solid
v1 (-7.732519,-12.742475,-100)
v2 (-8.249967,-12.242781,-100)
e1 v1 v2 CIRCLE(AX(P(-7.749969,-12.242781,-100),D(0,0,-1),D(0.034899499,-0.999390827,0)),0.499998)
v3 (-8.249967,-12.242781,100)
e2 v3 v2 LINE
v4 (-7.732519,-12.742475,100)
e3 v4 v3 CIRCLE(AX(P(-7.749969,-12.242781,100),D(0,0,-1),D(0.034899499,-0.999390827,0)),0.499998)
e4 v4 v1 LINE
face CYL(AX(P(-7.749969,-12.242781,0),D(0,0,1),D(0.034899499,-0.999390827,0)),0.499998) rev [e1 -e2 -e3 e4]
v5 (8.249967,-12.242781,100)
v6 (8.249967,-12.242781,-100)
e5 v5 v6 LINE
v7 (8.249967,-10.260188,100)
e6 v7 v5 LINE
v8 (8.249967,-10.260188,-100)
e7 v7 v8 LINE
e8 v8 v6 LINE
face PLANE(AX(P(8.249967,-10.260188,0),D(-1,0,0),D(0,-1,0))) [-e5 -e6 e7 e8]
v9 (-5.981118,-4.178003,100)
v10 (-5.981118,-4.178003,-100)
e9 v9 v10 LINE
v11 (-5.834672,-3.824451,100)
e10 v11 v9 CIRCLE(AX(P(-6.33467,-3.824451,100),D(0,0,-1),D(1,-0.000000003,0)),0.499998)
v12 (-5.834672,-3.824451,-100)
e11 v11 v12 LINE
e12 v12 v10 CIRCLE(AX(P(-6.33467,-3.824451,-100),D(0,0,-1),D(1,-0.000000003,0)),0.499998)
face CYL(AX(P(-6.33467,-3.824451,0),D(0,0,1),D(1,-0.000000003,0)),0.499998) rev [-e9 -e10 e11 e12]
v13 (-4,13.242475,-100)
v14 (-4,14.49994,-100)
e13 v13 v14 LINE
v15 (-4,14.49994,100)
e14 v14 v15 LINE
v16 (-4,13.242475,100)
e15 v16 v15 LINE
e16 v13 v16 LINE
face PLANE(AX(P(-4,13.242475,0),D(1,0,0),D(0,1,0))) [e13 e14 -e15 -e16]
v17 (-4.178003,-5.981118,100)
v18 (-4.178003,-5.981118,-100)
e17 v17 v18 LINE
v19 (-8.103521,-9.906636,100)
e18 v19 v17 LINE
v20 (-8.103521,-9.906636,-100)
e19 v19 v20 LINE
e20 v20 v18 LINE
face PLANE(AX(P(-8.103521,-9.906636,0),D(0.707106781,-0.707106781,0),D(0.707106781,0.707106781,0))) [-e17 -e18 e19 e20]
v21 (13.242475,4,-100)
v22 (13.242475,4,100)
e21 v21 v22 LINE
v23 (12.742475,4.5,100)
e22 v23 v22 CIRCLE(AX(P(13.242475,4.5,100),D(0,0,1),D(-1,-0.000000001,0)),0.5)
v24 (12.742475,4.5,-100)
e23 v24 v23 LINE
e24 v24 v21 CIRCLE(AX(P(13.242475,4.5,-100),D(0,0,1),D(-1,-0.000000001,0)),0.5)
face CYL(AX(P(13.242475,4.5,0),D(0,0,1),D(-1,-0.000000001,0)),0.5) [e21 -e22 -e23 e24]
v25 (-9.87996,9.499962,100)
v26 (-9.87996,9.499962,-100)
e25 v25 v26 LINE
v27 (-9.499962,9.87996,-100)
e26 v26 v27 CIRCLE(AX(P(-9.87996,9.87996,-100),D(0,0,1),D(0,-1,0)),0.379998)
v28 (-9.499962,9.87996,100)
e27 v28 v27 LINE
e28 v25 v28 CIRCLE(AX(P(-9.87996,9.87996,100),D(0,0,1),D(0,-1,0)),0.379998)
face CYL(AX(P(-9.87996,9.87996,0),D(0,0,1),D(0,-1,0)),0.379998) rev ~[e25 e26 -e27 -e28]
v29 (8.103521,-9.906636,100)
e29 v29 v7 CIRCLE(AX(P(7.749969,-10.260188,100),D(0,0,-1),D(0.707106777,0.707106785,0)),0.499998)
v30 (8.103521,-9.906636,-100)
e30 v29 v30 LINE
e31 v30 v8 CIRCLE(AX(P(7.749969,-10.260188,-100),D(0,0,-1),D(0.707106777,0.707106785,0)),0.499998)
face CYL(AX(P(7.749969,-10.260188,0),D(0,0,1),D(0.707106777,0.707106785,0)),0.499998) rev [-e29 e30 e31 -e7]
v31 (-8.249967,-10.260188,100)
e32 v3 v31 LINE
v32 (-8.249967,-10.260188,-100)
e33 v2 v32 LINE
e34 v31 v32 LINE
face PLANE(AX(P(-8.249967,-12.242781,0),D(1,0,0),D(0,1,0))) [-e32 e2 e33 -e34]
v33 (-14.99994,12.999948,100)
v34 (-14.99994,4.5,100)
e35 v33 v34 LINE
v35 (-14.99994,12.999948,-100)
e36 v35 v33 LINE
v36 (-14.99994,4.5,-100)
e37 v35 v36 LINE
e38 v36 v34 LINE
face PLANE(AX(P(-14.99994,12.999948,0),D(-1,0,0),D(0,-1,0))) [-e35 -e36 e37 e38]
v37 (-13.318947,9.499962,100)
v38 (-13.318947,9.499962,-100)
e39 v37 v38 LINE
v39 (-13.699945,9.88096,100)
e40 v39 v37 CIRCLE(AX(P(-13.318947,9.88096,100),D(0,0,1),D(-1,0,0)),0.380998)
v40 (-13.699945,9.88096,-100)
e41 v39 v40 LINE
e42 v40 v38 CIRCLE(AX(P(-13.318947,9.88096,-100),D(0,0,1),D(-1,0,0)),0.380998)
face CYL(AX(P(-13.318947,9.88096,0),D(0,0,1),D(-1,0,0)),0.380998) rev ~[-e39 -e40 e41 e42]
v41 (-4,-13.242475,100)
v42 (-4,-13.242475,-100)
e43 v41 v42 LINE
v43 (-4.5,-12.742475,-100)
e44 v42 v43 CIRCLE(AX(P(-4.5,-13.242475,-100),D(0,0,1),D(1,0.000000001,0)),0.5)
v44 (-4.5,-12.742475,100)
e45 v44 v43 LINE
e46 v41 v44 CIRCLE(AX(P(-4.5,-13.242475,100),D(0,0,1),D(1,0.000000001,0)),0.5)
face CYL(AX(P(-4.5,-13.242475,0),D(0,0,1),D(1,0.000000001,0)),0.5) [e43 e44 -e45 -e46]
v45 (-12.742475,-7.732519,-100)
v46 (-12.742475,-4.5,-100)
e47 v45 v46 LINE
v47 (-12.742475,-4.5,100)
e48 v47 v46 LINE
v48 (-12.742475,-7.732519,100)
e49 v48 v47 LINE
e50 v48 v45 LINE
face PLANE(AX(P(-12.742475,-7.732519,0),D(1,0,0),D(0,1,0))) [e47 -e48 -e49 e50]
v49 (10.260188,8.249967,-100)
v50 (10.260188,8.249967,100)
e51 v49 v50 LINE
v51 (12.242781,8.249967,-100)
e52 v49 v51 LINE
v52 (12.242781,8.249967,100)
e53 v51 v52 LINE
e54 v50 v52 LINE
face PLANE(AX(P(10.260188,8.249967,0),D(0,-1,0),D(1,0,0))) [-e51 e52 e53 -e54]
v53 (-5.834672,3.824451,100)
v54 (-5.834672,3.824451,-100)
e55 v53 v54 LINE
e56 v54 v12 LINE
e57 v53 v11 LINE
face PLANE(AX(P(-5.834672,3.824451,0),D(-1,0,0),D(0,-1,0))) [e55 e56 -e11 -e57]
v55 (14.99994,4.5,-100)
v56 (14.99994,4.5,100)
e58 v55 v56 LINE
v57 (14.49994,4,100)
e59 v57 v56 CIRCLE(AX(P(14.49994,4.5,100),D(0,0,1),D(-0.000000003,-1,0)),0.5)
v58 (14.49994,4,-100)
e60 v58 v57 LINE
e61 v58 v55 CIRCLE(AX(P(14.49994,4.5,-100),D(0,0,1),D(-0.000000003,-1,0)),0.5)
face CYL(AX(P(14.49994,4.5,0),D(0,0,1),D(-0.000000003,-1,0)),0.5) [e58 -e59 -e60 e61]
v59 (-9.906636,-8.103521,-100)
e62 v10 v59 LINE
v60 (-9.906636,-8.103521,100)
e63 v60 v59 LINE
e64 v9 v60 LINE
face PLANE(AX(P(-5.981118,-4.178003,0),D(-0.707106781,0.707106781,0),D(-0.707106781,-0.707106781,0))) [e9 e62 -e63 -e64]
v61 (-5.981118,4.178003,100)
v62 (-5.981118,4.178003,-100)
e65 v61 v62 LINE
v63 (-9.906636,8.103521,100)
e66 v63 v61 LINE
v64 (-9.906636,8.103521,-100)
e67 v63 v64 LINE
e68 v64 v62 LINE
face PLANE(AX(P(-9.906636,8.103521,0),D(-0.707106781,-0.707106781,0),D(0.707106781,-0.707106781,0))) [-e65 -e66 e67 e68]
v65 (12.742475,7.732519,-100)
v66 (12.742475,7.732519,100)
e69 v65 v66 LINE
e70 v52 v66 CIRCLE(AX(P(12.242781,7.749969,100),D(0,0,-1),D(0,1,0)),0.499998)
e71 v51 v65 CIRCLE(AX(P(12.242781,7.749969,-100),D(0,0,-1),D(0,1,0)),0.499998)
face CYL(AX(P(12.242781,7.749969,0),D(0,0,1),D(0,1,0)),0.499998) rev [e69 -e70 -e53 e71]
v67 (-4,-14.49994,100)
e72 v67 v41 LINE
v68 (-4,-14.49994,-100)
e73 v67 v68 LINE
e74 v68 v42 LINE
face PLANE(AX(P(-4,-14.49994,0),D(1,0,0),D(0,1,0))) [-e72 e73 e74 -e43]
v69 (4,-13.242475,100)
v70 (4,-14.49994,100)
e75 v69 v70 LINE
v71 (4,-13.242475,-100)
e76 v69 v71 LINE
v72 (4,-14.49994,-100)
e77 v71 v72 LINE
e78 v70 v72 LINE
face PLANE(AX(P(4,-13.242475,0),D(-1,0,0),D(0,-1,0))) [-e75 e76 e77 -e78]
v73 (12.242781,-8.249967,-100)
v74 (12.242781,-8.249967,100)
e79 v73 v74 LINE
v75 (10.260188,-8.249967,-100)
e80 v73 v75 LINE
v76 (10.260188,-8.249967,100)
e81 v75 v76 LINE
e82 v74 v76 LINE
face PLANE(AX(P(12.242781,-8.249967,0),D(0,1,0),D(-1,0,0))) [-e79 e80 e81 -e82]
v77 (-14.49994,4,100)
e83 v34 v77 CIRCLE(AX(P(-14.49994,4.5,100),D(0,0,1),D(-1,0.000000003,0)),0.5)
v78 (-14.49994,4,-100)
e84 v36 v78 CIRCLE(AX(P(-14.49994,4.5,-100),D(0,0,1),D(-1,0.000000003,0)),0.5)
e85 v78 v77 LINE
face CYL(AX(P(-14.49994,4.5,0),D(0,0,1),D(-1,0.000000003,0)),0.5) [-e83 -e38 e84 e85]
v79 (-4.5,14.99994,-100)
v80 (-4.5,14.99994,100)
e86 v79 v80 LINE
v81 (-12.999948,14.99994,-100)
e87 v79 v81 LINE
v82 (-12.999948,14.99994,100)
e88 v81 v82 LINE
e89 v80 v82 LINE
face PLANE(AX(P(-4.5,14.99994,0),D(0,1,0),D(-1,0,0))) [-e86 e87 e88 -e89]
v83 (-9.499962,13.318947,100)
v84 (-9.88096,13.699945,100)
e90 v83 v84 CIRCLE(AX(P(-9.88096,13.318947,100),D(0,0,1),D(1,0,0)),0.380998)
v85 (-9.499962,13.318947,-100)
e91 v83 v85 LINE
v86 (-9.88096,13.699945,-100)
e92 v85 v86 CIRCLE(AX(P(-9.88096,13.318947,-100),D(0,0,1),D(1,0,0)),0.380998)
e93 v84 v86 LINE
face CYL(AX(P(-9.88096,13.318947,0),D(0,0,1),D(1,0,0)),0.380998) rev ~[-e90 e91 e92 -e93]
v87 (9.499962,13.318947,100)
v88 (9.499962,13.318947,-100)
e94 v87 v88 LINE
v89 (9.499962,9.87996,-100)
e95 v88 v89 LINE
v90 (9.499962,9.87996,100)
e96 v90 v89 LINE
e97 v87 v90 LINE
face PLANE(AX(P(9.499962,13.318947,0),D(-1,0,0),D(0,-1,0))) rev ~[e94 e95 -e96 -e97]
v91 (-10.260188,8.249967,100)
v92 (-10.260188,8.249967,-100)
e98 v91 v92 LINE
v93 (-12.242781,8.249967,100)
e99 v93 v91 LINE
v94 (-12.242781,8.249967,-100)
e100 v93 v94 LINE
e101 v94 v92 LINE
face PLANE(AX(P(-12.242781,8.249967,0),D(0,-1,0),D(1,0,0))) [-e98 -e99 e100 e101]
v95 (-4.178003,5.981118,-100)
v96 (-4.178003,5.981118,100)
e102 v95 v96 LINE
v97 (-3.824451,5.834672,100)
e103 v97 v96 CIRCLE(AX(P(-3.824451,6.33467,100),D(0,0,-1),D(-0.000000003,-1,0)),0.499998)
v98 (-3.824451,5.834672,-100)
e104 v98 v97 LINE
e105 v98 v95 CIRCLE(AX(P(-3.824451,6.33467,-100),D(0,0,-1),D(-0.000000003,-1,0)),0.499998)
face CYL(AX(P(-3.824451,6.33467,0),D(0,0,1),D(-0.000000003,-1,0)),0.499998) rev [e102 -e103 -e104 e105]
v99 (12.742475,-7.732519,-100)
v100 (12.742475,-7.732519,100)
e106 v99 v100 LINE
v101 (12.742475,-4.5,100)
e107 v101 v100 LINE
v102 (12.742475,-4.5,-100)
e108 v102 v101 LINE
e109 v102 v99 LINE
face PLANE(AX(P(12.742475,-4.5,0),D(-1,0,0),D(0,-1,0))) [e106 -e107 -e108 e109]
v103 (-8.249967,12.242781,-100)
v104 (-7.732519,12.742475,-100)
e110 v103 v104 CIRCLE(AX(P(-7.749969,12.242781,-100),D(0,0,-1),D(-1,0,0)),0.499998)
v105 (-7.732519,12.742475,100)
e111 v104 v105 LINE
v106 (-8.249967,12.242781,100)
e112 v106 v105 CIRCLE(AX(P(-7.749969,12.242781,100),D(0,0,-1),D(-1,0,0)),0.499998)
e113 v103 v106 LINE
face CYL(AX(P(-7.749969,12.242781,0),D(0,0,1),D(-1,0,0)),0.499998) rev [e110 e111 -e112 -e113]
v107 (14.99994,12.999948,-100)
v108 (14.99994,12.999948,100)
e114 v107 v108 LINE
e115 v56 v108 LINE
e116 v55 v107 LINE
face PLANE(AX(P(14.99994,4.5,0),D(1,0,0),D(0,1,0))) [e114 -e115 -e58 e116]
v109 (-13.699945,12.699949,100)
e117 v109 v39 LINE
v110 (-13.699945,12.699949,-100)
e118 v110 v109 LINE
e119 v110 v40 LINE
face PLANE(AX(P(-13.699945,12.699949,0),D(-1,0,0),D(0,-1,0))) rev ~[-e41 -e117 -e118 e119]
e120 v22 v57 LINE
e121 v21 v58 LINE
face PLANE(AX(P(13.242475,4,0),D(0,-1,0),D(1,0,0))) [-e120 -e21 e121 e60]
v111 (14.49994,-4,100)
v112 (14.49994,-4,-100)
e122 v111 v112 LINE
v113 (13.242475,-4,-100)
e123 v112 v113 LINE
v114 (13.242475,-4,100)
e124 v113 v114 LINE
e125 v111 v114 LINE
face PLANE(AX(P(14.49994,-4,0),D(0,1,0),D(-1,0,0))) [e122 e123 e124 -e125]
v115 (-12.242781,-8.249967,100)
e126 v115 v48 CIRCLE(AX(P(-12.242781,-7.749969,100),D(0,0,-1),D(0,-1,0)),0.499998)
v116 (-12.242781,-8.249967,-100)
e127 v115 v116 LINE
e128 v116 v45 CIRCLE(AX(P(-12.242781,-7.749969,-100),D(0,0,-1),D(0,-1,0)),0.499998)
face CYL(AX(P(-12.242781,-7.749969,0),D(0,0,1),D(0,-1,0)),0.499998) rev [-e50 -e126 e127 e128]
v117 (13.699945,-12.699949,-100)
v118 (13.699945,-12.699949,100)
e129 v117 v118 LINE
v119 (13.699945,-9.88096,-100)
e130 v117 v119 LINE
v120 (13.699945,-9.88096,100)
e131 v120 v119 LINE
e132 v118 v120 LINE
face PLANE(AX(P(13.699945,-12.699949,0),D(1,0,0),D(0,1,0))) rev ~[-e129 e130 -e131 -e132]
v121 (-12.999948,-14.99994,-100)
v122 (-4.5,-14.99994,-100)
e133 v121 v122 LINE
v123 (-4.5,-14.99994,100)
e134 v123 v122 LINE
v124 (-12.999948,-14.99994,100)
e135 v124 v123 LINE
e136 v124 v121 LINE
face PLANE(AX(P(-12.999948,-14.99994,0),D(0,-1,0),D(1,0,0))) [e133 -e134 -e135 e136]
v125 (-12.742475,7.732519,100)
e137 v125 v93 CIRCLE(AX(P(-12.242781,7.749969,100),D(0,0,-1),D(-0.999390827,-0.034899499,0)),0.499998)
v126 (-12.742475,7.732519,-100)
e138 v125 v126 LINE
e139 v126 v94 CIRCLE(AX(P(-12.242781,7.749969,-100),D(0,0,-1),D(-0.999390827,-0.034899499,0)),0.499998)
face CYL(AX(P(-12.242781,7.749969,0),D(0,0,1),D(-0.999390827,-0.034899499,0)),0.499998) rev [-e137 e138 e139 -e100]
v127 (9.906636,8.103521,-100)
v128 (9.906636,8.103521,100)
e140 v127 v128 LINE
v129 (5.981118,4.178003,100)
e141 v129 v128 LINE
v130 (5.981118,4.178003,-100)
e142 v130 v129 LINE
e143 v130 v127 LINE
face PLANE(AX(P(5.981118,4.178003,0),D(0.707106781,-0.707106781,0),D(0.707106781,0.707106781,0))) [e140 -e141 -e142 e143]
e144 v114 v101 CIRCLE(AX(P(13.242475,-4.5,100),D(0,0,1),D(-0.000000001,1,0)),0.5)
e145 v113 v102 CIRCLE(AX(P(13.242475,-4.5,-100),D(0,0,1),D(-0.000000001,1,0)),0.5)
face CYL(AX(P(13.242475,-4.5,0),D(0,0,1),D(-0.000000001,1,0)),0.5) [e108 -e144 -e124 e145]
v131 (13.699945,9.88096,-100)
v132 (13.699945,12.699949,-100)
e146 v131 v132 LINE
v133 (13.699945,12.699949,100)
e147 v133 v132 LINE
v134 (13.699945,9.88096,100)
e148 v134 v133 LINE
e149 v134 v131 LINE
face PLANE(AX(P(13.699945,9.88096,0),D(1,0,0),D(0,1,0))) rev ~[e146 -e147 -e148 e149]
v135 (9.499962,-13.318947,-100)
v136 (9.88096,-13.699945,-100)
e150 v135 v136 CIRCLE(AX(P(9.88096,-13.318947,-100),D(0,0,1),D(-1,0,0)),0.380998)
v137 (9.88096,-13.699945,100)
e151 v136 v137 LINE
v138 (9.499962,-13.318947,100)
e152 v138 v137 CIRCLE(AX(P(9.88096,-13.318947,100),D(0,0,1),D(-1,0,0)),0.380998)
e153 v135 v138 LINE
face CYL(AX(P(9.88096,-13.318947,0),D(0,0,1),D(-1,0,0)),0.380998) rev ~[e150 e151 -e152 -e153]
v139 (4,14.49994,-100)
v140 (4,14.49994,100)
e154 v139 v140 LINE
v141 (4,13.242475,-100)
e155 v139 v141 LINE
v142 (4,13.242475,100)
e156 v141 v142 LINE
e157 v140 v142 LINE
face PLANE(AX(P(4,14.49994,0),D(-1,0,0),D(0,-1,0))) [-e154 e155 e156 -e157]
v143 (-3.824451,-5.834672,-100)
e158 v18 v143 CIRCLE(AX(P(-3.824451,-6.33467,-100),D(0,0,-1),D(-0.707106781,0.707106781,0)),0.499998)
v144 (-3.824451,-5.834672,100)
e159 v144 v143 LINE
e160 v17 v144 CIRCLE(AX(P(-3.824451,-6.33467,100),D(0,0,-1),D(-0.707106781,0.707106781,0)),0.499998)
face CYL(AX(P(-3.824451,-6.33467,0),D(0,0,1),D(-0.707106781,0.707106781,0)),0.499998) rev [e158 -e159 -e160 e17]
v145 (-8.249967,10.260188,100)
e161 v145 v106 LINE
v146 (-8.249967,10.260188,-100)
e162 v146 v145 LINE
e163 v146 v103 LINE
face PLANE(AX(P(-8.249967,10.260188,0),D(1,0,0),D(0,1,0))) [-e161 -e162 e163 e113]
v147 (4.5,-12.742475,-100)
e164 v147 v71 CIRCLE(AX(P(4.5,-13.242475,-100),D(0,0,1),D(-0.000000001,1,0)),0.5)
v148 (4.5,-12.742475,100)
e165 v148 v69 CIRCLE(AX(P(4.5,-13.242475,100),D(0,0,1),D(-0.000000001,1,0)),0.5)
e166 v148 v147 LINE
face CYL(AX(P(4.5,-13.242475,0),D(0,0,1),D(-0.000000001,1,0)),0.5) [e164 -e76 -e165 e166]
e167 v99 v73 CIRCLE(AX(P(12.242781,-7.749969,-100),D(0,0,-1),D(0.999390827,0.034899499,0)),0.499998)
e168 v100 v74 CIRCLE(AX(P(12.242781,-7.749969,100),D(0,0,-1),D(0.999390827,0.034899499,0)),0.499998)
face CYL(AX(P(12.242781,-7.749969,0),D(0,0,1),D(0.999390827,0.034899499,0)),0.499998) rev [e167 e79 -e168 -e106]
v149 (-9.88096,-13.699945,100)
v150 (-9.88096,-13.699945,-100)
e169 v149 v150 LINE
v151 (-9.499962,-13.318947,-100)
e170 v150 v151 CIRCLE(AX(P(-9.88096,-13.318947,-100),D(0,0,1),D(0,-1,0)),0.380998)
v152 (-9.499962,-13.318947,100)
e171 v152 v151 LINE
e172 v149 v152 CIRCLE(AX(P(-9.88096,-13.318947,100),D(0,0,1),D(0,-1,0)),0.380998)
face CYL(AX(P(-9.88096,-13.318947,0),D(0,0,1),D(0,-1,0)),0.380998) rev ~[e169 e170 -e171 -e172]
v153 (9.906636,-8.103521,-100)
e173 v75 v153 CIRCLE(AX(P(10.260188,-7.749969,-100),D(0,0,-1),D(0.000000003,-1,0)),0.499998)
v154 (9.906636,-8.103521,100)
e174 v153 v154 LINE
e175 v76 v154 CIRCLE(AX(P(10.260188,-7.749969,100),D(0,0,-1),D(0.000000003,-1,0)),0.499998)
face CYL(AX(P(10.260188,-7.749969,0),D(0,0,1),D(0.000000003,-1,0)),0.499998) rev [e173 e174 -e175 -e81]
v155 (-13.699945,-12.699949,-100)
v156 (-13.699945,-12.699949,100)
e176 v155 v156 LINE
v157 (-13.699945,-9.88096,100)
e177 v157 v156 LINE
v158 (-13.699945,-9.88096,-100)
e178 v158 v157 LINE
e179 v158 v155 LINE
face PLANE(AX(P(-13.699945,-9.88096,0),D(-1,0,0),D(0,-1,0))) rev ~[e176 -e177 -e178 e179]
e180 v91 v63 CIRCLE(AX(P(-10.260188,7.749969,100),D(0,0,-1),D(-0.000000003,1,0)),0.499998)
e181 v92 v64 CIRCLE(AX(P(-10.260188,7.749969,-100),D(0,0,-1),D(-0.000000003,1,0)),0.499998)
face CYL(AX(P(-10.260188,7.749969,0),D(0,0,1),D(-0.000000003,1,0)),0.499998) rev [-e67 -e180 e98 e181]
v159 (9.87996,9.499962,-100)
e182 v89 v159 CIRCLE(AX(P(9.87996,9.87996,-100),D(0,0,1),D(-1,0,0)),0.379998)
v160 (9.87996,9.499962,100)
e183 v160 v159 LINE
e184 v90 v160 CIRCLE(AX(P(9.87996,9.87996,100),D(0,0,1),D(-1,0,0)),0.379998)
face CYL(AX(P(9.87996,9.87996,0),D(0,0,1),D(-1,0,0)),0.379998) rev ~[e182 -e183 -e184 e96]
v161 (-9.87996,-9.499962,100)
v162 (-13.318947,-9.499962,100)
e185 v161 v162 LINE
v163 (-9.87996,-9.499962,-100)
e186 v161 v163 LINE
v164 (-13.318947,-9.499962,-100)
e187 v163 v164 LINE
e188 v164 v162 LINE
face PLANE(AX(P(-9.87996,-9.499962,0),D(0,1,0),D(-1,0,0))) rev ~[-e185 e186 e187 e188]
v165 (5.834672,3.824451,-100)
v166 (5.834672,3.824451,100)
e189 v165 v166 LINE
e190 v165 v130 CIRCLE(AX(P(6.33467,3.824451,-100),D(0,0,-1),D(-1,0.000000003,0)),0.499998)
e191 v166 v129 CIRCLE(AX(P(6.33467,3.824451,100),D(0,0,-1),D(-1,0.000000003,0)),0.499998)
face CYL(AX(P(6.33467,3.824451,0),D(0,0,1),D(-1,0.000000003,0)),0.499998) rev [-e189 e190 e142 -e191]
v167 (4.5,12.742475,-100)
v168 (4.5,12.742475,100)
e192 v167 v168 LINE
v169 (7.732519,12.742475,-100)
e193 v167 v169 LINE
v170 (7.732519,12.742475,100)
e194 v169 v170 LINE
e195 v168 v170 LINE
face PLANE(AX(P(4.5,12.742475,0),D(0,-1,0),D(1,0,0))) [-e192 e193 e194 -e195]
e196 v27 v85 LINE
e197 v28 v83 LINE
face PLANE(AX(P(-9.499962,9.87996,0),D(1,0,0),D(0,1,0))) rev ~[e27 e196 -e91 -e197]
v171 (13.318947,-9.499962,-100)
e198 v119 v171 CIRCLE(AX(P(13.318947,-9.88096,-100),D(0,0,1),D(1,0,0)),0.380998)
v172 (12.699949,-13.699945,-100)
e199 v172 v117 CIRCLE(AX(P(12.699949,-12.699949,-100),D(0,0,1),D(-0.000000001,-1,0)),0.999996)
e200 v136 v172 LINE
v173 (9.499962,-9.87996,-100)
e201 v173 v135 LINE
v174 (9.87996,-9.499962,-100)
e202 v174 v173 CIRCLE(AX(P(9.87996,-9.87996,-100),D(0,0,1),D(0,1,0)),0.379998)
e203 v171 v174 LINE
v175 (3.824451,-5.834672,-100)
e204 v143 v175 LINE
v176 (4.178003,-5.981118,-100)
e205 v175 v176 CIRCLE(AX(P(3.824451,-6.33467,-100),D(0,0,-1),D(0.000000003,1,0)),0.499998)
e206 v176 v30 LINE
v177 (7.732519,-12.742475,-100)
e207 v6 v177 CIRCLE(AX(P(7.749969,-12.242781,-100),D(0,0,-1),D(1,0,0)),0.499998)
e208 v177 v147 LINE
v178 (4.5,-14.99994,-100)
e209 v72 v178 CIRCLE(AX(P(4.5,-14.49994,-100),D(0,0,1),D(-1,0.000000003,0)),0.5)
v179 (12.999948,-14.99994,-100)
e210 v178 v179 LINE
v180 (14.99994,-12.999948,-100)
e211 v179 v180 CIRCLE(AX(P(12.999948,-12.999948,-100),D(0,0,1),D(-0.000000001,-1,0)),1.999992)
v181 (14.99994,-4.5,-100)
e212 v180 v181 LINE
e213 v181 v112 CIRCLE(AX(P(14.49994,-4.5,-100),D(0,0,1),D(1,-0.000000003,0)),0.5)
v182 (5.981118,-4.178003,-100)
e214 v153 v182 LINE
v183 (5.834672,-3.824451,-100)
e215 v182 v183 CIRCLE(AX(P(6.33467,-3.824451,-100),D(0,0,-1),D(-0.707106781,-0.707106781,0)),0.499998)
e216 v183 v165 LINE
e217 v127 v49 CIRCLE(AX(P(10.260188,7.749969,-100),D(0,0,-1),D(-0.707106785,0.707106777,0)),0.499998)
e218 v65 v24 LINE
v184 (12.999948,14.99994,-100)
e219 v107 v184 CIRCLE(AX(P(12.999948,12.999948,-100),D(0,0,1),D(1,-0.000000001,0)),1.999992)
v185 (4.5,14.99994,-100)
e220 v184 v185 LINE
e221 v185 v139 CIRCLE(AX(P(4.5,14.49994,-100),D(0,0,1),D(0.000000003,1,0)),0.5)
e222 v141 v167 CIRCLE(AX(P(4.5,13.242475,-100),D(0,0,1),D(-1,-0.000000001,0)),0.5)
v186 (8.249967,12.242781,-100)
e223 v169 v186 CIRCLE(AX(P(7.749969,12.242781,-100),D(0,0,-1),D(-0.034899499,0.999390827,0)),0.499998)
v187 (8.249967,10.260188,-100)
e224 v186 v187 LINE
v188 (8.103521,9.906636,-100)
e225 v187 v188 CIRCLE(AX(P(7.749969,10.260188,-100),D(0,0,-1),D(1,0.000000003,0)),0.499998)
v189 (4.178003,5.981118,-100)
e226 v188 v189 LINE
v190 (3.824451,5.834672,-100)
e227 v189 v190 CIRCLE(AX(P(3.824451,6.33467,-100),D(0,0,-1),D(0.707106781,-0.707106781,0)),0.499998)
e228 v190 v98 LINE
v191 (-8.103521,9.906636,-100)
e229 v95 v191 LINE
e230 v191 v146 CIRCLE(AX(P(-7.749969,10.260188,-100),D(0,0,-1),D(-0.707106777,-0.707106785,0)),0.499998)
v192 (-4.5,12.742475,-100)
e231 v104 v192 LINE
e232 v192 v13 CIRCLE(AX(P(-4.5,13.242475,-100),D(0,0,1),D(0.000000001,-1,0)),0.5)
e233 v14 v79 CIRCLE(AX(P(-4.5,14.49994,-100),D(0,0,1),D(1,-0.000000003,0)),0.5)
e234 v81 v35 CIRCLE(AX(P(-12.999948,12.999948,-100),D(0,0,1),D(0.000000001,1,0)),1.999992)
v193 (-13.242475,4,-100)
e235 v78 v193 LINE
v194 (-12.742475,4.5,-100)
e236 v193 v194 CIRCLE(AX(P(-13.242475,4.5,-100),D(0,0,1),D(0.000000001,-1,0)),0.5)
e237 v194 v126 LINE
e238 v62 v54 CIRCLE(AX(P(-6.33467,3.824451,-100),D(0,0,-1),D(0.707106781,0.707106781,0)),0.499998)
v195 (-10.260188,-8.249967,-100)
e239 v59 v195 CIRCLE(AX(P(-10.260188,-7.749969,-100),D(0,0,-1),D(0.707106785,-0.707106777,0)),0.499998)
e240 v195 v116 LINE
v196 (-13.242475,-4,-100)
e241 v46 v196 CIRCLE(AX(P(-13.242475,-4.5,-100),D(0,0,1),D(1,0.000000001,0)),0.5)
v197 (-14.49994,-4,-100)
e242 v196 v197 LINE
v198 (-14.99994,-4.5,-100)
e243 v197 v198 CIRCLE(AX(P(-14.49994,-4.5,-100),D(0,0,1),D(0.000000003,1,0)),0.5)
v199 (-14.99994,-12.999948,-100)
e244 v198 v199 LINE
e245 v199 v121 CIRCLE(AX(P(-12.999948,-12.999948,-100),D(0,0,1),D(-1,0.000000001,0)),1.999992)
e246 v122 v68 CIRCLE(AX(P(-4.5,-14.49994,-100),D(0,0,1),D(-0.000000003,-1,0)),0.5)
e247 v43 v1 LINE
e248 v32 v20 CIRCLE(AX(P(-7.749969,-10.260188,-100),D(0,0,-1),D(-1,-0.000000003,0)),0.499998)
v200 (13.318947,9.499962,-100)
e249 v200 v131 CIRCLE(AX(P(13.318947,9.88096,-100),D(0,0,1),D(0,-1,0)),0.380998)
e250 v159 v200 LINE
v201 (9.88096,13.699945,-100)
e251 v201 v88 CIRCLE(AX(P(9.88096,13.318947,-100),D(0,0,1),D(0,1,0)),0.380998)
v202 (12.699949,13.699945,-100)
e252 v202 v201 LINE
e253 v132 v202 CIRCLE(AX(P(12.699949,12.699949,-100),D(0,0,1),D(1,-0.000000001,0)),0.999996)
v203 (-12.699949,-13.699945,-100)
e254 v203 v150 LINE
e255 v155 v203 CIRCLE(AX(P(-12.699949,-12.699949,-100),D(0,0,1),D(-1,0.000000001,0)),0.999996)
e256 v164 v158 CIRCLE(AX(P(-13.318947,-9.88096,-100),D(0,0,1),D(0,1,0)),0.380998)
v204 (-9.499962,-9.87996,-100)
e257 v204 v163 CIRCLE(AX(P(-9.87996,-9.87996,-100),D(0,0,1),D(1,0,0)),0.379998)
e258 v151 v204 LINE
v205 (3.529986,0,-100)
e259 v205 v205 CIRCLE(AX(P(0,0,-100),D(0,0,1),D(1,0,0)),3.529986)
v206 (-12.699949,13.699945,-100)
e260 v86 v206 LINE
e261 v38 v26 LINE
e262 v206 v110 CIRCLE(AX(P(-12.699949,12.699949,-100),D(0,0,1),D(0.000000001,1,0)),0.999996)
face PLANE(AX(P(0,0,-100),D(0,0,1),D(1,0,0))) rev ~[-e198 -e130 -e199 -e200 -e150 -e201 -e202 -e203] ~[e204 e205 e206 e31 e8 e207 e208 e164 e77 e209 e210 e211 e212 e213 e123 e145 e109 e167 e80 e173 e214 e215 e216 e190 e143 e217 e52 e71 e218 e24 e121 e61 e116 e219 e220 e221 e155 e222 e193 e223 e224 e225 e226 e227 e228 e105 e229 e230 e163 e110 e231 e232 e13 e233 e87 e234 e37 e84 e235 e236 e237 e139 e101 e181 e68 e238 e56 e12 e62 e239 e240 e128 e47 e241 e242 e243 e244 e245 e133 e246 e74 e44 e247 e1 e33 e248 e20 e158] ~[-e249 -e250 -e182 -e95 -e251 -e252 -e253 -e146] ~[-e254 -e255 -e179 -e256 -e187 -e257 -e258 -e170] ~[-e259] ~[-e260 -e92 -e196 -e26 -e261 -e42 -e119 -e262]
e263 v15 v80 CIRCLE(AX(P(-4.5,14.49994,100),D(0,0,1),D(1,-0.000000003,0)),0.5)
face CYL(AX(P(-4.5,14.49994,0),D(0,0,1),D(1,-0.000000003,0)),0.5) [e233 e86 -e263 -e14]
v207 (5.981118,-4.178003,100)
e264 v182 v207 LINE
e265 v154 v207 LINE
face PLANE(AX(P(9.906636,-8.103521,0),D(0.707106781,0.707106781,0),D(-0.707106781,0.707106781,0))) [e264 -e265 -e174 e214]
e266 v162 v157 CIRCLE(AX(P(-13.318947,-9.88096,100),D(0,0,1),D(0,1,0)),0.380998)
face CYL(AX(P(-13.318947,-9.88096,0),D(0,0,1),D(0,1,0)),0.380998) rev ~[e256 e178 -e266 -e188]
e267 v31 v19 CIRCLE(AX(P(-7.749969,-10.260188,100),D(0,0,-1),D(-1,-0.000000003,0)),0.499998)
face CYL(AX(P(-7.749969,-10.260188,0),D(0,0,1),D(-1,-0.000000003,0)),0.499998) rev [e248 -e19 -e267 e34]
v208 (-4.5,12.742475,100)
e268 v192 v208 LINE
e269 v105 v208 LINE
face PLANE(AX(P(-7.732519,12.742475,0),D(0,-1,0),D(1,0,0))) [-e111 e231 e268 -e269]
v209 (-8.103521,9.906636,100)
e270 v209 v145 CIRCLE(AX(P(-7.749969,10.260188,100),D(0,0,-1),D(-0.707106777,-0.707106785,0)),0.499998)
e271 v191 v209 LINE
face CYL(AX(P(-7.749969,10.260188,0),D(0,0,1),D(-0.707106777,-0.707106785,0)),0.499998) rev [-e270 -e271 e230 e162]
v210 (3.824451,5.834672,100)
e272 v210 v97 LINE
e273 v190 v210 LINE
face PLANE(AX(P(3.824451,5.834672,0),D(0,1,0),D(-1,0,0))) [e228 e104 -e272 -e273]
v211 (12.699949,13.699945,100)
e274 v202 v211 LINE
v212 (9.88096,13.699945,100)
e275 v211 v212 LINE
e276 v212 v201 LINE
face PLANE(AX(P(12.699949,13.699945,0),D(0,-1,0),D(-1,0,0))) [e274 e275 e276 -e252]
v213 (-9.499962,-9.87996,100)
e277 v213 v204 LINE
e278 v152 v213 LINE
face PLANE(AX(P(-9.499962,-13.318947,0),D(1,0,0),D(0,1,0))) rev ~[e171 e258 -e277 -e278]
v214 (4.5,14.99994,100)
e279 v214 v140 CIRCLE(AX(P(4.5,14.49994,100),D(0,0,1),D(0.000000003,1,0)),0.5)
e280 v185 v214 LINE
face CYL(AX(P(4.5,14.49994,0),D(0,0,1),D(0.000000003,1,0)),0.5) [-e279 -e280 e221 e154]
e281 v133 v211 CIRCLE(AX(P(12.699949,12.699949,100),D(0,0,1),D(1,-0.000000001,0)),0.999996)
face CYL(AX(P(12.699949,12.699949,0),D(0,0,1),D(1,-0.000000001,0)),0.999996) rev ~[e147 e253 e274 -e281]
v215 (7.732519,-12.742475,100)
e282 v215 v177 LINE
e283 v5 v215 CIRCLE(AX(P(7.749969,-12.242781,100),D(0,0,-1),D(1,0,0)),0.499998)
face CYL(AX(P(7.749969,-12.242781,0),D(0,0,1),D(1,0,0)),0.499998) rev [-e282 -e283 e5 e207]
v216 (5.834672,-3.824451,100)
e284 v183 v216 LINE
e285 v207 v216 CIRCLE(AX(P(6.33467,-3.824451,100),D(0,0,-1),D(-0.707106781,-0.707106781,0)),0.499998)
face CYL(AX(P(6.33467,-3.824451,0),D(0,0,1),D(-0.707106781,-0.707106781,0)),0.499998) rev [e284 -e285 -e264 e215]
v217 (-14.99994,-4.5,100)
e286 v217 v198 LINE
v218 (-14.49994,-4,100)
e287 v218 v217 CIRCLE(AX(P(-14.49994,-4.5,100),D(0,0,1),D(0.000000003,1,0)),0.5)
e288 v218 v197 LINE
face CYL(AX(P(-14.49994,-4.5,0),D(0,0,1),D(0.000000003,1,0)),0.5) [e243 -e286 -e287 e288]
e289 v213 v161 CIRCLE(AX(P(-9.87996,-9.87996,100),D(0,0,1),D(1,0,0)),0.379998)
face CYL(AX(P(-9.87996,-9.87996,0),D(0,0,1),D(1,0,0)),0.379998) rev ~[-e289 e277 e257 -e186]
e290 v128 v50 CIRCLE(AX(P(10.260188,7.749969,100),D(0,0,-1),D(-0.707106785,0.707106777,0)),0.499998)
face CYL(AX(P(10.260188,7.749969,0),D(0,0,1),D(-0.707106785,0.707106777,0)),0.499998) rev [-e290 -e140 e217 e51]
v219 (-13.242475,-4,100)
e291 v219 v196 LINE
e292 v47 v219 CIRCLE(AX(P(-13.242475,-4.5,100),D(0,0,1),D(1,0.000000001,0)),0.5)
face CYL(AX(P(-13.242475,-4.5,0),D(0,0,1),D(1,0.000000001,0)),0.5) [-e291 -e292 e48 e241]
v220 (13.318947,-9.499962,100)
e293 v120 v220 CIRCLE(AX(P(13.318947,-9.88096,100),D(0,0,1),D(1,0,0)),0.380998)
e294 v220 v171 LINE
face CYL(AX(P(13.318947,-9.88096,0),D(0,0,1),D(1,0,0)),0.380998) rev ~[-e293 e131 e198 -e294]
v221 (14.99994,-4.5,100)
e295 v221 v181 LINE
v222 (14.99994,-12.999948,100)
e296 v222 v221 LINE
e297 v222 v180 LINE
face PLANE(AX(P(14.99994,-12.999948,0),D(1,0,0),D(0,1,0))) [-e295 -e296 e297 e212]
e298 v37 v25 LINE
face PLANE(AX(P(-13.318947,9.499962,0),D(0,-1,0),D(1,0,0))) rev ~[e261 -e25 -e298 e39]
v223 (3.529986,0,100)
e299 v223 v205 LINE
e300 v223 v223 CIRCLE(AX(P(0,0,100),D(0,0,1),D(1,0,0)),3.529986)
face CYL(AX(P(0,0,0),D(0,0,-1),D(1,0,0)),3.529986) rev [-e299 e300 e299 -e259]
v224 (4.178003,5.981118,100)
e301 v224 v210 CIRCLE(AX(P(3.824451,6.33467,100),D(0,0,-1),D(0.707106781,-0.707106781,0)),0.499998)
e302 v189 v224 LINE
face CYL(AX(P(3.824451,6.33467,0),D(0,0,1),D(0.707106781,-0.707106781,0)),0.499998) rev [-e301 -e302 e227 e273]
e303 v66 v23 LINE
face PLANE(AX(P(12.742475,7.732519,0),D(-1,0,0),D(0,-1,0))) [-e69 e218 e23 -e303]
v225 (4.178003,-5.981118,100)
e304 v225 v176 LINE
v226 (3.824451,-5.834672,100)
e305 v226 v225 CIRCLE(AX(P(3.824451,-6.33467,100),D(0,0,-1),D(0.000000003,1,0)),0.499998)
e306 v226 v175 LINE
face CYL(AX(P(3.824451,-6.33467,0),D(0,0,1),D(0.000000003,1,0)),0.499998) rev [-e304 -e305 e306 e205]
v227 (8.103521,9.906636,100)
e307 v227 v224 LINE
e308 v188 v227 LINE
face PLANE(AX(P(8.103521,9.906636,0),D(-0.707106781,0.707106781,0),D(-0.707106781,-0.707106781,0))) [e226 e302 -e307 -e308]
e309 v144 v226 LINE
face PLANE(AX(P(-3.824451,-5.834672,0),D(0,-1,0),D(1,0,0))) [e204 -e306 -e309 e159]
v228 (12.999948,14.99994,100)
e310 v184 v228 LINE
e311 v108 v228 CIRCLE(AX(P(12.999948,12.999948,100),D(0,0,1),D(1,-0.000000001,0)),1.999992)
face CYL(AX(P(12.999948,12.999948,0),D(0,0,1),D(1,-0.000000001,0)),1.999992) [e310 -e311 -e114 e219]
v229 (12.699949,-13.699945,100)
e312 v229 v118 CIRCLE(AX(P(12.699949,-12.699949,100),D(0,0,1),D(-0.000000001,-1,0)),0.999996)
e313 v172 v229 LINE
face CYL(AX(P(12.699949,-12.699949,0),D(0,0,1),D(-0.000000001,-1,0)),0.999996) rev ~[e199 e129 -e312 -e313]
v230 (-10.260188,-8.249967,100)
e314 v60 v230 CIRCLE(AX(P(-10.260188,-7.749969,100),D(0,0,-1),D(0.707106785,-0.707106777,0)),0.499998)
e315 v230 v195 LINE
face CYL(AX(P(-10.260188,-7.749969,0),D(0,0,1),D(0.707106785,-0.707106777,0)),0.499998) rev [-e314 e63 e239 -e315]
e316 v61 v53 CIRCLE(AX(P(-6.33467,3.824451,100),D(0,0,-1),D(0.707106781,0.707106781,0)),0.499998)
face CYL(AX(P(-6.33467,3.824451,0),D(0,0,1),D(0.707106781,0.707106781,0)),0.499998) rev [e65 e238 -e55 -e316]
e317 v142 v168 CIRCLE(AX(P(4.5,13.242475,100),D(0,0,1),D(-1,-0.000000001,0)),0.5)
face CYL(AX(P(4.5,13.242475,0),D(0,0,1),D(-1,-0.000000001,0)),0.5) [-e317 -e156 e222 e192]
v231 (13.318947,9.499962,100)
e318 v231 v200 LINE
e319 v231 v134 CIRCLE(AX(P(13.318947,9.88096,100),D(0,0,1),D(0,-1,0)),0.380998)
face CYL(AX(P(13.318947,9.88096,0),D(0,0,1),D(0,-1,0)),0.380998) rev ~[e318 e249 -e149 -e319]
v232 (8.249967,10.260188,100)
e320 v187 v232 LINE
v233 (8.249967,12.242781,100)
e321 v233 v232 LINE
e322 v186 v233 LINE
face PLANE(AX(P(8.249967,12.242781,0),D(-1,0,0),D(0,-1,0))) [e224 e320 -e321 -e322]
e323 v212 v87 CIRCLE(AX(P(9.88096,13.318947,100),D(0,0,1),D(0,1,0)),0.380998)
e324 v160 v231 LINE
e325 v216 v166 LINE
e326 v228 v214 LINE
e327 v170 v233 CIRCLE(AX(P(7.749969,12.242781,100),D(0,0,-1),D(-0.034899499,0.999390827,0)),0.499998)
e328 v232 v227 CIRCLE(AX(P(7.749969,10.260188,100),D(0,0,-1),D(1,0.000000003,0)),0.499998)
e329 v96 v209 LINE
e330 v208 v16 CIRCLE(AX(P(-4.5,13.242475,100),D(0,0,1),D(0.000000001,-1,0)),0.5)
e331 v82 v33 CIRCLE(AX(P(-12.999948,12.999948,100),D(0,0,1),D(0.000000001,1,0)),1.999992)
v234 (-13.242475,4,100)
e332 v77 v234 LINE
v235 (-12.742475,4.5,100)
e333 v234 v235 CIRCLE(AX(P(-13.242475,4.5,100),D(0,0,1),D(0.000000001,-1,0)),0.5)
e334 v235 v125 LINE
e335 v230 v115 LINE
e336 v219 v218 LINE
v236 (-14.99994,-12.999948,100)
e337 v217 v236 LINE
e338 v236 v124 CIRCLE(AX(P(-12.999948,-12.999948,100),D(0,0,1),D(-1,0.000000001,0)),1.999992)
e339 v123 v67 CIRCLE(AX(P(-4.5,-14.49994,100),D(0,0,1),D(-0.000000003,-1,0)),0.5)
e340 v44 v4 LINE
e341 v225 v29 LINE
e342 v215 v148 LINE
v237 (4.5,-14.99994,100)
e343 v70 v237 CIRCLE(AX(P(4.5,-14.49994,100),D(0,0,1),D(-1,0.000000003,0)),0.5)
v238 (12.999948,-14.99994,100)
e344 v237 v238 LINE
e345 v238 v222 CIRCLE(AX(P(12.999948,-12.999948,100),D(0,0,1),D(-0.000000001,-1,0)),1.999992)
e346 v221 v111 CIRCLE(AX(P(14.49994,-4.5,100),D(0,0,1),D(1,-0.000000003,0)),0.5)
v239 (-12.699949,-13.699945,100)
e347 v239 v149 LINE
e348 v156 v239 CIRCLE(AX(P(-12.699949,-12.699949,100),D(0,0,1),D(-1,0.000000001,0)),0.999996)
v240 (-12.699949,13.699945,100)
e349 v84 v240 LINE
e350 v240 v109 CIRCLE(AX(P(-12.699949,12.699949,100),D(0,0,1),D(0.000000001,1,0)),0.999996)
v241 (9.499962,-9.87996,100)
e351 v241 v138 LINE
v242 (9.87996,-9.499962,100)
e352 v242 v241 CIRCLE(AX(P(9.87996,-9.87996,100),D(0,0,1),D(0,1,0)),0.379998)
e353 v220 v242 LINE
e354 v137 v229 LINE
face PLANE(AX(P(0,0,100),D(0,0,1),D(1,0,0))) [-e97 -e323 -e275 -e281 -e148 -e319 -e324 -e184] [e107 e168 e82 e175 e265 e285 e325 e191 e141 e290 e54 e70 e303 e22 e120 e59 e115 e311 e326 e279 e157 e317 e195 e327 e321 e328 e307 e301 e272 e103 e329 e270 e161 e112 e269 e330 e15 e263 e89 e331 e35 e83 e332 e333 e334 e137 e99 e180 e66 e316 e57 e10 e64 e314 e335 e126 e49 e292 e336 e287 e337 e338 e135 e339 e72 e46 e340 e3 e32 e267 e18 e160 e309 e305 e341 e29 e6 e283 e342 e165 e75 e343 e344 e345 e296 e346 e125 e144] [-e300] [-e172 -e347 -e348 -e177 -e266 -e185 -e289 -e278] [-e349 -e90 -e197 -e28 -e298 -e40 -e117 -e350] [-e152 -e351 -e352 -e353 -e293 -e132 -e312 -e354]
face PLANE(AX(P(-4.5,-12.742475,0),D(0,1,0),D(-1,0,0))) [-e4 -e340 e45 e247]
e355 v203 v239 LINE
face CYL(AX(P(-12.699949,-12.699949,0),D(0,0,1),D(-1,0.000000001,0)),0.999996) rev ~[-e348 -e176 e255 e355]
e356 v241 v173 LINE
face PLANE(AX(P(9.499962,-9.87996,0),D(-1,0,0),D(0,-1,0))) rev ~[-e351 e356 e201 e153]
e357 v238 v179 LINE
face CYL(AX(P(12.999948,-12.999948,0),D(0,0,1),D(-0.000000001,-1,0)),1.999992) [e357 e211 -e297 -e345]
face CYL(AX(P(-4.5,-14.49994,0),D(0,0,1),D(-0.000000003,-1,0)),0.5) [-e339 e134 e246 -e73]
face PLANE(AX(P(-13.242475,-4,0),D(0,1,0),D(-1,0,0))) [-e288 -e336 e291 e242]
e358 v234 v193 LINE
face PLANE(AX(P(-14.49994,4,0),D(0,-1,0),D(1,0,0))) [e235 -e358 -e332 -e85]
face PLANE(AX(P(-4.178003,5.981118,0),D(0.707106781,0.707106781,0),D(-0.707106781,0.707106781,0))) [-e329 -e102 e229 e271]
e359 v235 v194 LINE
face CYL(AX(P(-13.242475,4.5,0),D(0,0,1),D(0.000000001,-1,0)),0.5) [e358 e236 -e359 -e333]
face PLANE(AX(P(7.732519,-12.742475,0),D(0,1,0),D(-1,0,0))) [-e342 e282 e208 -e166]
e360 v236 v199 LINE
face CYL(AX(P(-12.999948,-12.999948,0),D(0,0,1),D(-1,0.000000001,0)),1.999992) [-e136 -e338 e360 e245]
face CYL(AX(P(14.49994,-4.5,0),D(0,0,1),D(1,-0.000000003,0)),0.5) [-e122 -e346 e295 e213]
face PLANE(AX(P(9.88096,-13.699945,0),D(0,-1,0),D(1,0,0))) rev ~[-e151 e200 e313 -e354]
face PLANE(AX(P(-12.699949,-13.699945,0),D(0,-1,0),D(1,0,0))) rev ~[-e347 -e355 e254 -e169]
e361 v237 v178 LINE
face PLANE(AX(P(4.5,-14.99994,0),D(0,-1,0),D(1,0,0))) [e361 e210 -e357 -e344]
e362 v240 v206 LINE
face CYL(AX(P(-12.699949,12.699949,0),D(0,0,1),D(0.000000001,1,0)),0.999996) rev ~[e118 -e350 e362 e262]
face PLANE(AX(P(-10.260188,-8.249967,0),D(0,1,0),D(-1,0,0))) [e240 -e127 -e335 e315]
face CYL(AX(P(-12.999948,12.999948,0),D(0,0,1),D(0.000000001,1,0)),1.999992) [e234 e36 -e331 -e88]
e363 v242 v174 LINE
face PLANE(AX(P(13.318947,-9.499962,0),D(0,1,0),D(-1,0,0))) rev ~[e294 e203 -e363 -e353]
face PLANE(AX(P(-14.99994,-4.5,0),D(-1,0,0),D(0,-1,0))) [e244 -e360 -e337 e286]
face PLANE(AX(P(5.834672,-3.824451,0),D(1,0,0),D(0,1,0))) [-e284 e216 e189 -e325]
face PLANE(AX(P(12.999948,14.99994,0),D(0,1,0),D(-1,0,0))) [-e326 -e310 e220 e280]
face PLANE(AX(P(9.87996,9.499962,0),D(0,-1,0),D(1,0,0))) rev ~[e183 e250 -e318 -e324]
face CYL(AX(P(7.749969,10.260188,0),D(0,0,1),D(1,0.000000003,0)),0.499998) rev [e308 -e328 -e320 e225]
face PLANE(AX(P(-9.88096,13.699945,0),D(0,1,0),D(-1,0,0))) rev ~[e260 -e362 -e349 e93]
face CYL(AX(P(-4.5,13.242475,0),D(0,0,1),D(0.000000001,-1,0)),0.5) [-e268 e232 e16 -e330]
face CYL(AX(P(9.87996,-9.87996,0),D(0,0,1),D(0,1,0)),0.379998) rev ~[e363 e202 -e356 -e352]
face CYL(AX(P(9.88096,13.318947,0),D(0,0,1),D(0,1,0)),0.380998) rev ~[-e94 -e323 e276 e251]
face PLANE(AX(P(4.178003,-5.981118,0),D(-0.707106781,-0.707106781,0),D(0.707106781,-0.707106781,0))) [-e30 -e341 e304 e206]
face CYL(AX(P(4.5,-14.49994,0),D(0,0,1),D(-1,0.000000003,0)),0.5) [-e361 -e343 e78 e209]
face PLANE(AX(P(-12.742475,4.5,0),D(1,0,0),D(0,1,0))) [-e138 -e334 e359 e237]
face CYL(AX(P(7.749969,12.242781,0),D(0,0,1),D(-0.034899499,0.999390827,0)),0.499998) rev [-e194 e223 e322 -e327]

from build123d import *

# Parameters (mm, degrees)
SKETCH1_R           = 3.52998588
BOSS_EXTRUDE1_DEPTH = 100


with BuildPart() as part:
    # Sketch1 → Boss-Extrude1 (new body, symmetric)
    with BuildSketch(Plane.XY):
        with BuildLine():
            Line((14.49994, -4), (13.24247465, -4))
            ThreePointArc((13.24247465, -4), (12.88892126, -4.146446609), (12.74247465, -4.5))
            Line((12.74247465, -4.5), (12.74247465, -7.732519321))
            ThreePointArc((12.74247465, -7.732519321), (12.602449697, -8.097296796), (12.242781236, -8.249967))
            Line((12.242781236, -8.249967), (10.260188032, -8.249967))
            ThreePointArc((10.260188032, -8.249967), (10.068847082, -8.211906919), (9.906636056, -8.103520976))
            Line((9.906636056, -8.103520976), (5.981117769, -4.178002689))
            ThreePointArc((5.981117769, -4.178002689), (5.872731827, -4.015791664), (5.834671745, -3.824450713))
            Line((5.834671745, -3.824450713), (5.834671745, -1.01249595))
            Line((5.834671745, -1.01249595), (5.834671745, 0.88749645))
            Line((5.834671745, 0.88749645), (5.834671745, 3.824450713))
            ThreePointArc((5.834671745, 3.824450713), (5.872731827, 4.015791664), (5.981117769, 4.178002689))
            Line((5.981117769, 4.178002689), (9.906636056, 8.103520976))
            ThreePointArc((9.906636056, 8.103520976), (10.068847082, 8.211906919), (10.260188032, 8.249967))
            Line((10.260188032, 8.249967), (12.242781236, 8.249967))
            ThreePointArc((12.242781236, 8.249967), (12.602449697, 8.097296796), (12.74247465, 7.732519321))
            Line((12.74247465, 7.732519321), (12.74247465, 4.5))
            ThreePointArc((12.74247465, 4.5), (12.88892126, 4.146446609), (13.24247465, 4))
            Line((13.24247465, 4), (14.49994, 4))
            ThreePointArc((14.49994, 4), (14.853493391, 4.146446609), (14.99994, 4.5))
            Line((14.99994, 4.5), (14.99994, 12.999948))
            ThreePointArc((14.99994, 12.999948), (14.414155906, 14.414155906), (12.999948, 14.99994))
            Line((12.999948, 14.99994), (4.5, 14.99994))
            ThreePointArc((4.5, 14.99994), (4.146446609, 14.853493391), (4, 14.49994))
            Line((4, 14.49994), (4, 13.24247465))
            ThreePointArc((4, 13.24247465), (4.146446609, 12.88892126), (4.5, 12.74247465))
            Line((4.5, 12.74247465), (7.732519321, 12.74247465))
            ThreePointArc((7.732519321, 12.74247465), (8.097296796, 12.602449697), (8.249967, 12.242781236))
            Line((8.249967, 12.242781236), (8.249967, 10.260188032))
            ThreePointArc((8.249967, 10.260188032), (8.211906919, 10.068847082), (8.103520976, 9.906636056))
            Line((8.103520976, 9.906636056), (4.178002689, 5.981117769))
            ThreePointArc((4.178002689, 5.981117769), (4.015791664, 5.872731827), (3.824450713, 5.834671745))
            Line((3.824450713, 5.834671745), (0.9499962, 5.834671745))
            Line((0.9499962, 5.834671745), (-0.9499962, 5.834671745))
            Line((-0.9499962, 5.834671745), (-3.824450713, 5.834671745))
            ThreePointArc((-3.824450713, 5.834671745), (-4.015791664, 5.872731827), (-4.178002689, 5.981117769))
            Line((-4.178002689, 5.981117769), (-8.103520976, 9.906636056))
            ThreePointArc((-8.103520976, 9.906636056), (-8.211906919, 10.068847082), (-8.249967, 10.260188032))
            Line((-8.249967, 10.260188032), (-8.249967, 12.242781236))
            ThreePointArc((-8.249967, 12.242781236), (-8.097296796, 12.602449697), (-7.732519321, 12.74247465))
            Line((-7.732519321, 12.74247465), (-4.5, 12.74247465))
            ThreePointArc((-4.5, 12.74247465), (-4.146446609, 12.88892126), (-4, 13.24247465))
            Line((-4, 13.24247465), (-4, 14.49994))
            ThreePointArc((-4, 14.49994), (-4.146446609, 14.853493391), (-4.5, 14.99994))
            Line((-4.5, 14.99994), (-12.999948, 14.99994))
            ThreePointArc((-12.999948, 14.99994), (-14.414155906, 14.414155906), (-14.99994, 12.999948))
            Line((-14.99994, 12.999948), (-14.99994, 4.5))
            ThreePointArc((-14.99994, 4.5), (-14.853493391, 4.146446609), (-14.49994, 4))
            Line((-14.49994, 4), (-13.24247465, 4))
            ThreePointArc((-13.24247465, 4), (-12.88892126, 4.146446609), (-12.74247465, 4.5))
            Line((-12.74247465, 4.5), (-12.74247465, 7.732519321))
            ThreePointArc((-12.74247465, 7.732519321), (-12.602449697, 8.097296796), (-12.242781236, 8.249967))
            Line((-12.242781236, 8.249967), (-10.260188032, 8.249967))
            ThreePointArc((-10.260188032, 8.249967), (-10.068847082, 8.211906919), (-9.906636056, 8.103520976))
            Line((-9.906636056, 8.103520976), (-5.981117769, 4.178002689))
            ThreePointArc((-5.981117769, 4.178002689), (-5.872731827, 4.015791664), (-5.834671745, 3.824450713))
            Line((-5.834671745, 3.824450713), (-5.834671745, 0.88749645))
            Line((-5.834671745, 0.88749645), (-5.834671745, -1.01249595))
            Line((-5.834671745, -1.01249595), (-5.834671745, -3.824450713))
            ThreePointArc((-5.834671745, -3.824450713), (-5.872731827, -4.015791664), (-5.981117769, -4.178002689))
            Line((-5.981117769, -4.178002689), (-9.906636056, -8.103520976))
            ThreePointArc((-9.906636056, -8.103520976), (-10.068847082, -8.211906919), (-10.260188032, -8.249967))
            Line((-10.260188032, -8.249967), (-12.242781236, -8.249967))
            ThreePointArc((-12.242781236, -8.249967), (-12.602449697, -8.097296796), (-12.74247465, -7.732519321))
            Line((-12.74247465, -7.732519321), (-12.74247465, -4.5))
            ThreePointArc((-12.74247465, -4.5), (-12.88892126, -4.146446609), (-13.24247465, -4))
            Line((-13.24247465, -4), (-14.49994, -4))
            ThreePointArc((-14.49994, -4), (-14.853493391, -4.146446609), (-14.99994, -4.5))
            Line((-14.99994, -4.5), (-14.99994, -12.999948))
            ThreePointArc((-14.99994, -12.999948), (-14.414155906, -14.414155906), (-12.999948, -14.99994))
            Line((-12.999948, -14.99994), (-4.5, -14.99994))
            ThreePointArc((-4.5, -14.99994), (-4.146446609, -14.853493391), (-4, -14.49994))
            Line((-4, -14.49994), (-4, -13.24247465))
            ThreePointArc((-4, -13.24247465), (-4.146446609, -12.88892126), (-4.5, -12.74247465))
            Line((-4.5, -12.74247465), (-7.732519321, -12.74247465))
            ThreePointArc((-7.732519321, -12.74247465), (-8.097296796, -12.602449697), (-8.249967, -12.242781236))
            Line((-8.249967, -12.242781236), (-8.249967, -10.260188032))
            ThreePointArc((-8.249967, -10.260188032), (-8.211906919, -10.068847082), (-8.103520976, -9.906636056))
            Line((-8.103520976, -9.906636056), (-4.178002689, -5.981117769))
            ThreePointArc((-4.178002689, -5.981117769), (-4.015791664, -5.872731827), (-3.824450713, -5.834671745))
            Line((-3.824450713, -5.834671745), (-0.9499962, -5.834671745))
            Line((-0.9499962, -5.834671745), (0.9499962, -5.834671745))
            Line((0.9499962, -5.834671745), (3.824450713, -5.834671745))
            ThreePointArc((3.824450713, -5.834671745), (4.015791664, -5.872731827), (4.178002689, -5.981117769))
            Line((4.178002689, -5.981117769), (8.103520976, -9.906636056))
            ThreePointArc((8.103520976, -9.906636056), (8.211906919, -10.068847082), (8.249967, -10.260188032))
            Line((8.249967, -10.260188032), (8.249967, -12.242781236))
            ThreePointArc((8.249967, -12.242781236), (8.097296796, -12.602449697), (7.732519321, -12.74247465))
            Line((7.732519321, -12.74247465), (4.5, -12.74247465))
            ThreePointArc((4.5, -12.74247465), (4.146446609, -12.88892126), (4, -13.24247465))
            Line((4, -13.24247465), (4, -14.49994))
            ThreePointArc((4, -14.49994), (4.146446609, -14.853493391), (4.5, -14.99994))
            Line((4.5, -14.99994), (12.999948, -14.99994))
            ThreePointArc((12.999948, -14.99994), (14.414155906, -14.414155906), (14.99994, -12.999948))
            Line((14.99994, -12.999948), (14.99994, -4.5))
            ThreePointArc((14.99994, -4.5), (14.853493391, -4.146446609), (14.49994, -4))
        make_face()
        Circle(SKETCH1_R, mode=Mode.SUBTRACT)
        with BuildLine():
            Line((-12.6999492, -13.6999452), (-9.880960476, -13.6999452))
            ThreePointArc((-9.880960476, -13.6999452), (-9.61155387, -13.58835333), (-9.499962, -13.318946724))
            Line((-9.499962, -13.318946724), (-9.499962, -9.87996048))
            ThreePointArc((-9.499962, -9.87996048), (-9.611260978, -9.611260978), (-9.87996048, -9.499962))
            Line((-9.87996048, -9.499962), (-13.318946724, -9.499962))
            ThreePointArc((-13.318946724, -9.499962), (-13.58835333, -9.61155387), (-13.6999452, -9.880960476))
            Line((-13.6999452, -9.880960476), (-13.6999452, -12.6999492))
            ThreePointArc((-13.6999452, -12.6999492), (-13.407053153, -13.407053153), (-12.6999492, -13.6999452))
        make_face(mode=Mode.SUBTRACT)
        with BuildLine():
            Line((13.6999452, -12.6999492), (13.6999452, -9.880960476))
            ThreePointArc((13.6999452, -9.880960476), (13.58835333, -9.61155387), (13.318946724, -9.499962))
            Line((13.318946724, -9.499962), (9.87996048, -9.499962))
            ThreePointArc((9.87996048, -9.499962), (9.611260978, -9.611260978), (9.499962, -9.87996048))
            Line((9.499962, -9.87996048), (9.499962, -13.318946724))
            ThreePointArc((9.499962, -13.318946724), (9.61155387, -13.58835333), (9.880960476, -13.6999452))
            Line((9.880960476, -13.6999452), (12.6999492, -13.6999452))
            ThreePointArc((12.6999492, -13.6999452), (13.407053153, -13.407053153), (13.6999452, -12.6999492))
        make_face(mode=Mode.SUBTRACT)
        with BuildLine():
            Line((9.87996048, 9.499962), (13.318946724, 9.499962))
            ThreePointArc((13.318946724, 9.499962), (13.58835333, 9.61155387), (13.6999452, 9.880960476))
            Line((13.6999452, 9.880960476), (13.6999452, 12.6999492))
            ThreePointArc((13.6999452, 12.6999492), (13.407053153, 13.407053153), (12.6999492, 13.6999452))
            Line((12.6999492, 13.6999452), (9.880960476, 13.6999452))
            ThreePointArc((9.880960476, 13.6999452), (9.61155387, 13.58835333), (9.499962, 13.318946724))
            Line((9.499962, 13.318946724), (9.499962, 9.87996048))
            ThreePointArc((9.499962, 9.87996048), (9.611260978, 9.611260978), (9.87996048, 9.499962))
        make_face(mode=Mode.SUBTRACT)
        with BuildLine():
            Line((-13.6999452, 12.6999492), (-13.6999452, 9.880960476))
            ThreePointArc((-13.6999452, 9.880960476), (-13.58835333, 9.61155387), (-13.318946724, 9.499962))
            Line((-13.318946724, 9.499962), (-9.87996048, 9.499962))
            ThreePointArc((-9.87996048, 9.499962), (-9.611260978, 9.611260978), (-9.499962, 9.87996048))
            Line((-9.499962, 9.87996048), (-9.499962, 13.318946724))
            ThreePointArc((-9.499962, 13.318946724), (-9.61155387, 13.58835333), (-9.880960476, 13.6999452))
            Line((-9.880960476, 13.6999452), (-12.6999492, 13.6999452))
            ThreePointArc((-12.6999492, 13.6999452), (-13.407053153, 13.407053153), (-13.6999452, 12.6999492))
        make_face(mode=Mode.SUBTRACT)
    extrude(amount=BOSS_EXTRUDE1_DEPTH, both=True)


solid = part.part
